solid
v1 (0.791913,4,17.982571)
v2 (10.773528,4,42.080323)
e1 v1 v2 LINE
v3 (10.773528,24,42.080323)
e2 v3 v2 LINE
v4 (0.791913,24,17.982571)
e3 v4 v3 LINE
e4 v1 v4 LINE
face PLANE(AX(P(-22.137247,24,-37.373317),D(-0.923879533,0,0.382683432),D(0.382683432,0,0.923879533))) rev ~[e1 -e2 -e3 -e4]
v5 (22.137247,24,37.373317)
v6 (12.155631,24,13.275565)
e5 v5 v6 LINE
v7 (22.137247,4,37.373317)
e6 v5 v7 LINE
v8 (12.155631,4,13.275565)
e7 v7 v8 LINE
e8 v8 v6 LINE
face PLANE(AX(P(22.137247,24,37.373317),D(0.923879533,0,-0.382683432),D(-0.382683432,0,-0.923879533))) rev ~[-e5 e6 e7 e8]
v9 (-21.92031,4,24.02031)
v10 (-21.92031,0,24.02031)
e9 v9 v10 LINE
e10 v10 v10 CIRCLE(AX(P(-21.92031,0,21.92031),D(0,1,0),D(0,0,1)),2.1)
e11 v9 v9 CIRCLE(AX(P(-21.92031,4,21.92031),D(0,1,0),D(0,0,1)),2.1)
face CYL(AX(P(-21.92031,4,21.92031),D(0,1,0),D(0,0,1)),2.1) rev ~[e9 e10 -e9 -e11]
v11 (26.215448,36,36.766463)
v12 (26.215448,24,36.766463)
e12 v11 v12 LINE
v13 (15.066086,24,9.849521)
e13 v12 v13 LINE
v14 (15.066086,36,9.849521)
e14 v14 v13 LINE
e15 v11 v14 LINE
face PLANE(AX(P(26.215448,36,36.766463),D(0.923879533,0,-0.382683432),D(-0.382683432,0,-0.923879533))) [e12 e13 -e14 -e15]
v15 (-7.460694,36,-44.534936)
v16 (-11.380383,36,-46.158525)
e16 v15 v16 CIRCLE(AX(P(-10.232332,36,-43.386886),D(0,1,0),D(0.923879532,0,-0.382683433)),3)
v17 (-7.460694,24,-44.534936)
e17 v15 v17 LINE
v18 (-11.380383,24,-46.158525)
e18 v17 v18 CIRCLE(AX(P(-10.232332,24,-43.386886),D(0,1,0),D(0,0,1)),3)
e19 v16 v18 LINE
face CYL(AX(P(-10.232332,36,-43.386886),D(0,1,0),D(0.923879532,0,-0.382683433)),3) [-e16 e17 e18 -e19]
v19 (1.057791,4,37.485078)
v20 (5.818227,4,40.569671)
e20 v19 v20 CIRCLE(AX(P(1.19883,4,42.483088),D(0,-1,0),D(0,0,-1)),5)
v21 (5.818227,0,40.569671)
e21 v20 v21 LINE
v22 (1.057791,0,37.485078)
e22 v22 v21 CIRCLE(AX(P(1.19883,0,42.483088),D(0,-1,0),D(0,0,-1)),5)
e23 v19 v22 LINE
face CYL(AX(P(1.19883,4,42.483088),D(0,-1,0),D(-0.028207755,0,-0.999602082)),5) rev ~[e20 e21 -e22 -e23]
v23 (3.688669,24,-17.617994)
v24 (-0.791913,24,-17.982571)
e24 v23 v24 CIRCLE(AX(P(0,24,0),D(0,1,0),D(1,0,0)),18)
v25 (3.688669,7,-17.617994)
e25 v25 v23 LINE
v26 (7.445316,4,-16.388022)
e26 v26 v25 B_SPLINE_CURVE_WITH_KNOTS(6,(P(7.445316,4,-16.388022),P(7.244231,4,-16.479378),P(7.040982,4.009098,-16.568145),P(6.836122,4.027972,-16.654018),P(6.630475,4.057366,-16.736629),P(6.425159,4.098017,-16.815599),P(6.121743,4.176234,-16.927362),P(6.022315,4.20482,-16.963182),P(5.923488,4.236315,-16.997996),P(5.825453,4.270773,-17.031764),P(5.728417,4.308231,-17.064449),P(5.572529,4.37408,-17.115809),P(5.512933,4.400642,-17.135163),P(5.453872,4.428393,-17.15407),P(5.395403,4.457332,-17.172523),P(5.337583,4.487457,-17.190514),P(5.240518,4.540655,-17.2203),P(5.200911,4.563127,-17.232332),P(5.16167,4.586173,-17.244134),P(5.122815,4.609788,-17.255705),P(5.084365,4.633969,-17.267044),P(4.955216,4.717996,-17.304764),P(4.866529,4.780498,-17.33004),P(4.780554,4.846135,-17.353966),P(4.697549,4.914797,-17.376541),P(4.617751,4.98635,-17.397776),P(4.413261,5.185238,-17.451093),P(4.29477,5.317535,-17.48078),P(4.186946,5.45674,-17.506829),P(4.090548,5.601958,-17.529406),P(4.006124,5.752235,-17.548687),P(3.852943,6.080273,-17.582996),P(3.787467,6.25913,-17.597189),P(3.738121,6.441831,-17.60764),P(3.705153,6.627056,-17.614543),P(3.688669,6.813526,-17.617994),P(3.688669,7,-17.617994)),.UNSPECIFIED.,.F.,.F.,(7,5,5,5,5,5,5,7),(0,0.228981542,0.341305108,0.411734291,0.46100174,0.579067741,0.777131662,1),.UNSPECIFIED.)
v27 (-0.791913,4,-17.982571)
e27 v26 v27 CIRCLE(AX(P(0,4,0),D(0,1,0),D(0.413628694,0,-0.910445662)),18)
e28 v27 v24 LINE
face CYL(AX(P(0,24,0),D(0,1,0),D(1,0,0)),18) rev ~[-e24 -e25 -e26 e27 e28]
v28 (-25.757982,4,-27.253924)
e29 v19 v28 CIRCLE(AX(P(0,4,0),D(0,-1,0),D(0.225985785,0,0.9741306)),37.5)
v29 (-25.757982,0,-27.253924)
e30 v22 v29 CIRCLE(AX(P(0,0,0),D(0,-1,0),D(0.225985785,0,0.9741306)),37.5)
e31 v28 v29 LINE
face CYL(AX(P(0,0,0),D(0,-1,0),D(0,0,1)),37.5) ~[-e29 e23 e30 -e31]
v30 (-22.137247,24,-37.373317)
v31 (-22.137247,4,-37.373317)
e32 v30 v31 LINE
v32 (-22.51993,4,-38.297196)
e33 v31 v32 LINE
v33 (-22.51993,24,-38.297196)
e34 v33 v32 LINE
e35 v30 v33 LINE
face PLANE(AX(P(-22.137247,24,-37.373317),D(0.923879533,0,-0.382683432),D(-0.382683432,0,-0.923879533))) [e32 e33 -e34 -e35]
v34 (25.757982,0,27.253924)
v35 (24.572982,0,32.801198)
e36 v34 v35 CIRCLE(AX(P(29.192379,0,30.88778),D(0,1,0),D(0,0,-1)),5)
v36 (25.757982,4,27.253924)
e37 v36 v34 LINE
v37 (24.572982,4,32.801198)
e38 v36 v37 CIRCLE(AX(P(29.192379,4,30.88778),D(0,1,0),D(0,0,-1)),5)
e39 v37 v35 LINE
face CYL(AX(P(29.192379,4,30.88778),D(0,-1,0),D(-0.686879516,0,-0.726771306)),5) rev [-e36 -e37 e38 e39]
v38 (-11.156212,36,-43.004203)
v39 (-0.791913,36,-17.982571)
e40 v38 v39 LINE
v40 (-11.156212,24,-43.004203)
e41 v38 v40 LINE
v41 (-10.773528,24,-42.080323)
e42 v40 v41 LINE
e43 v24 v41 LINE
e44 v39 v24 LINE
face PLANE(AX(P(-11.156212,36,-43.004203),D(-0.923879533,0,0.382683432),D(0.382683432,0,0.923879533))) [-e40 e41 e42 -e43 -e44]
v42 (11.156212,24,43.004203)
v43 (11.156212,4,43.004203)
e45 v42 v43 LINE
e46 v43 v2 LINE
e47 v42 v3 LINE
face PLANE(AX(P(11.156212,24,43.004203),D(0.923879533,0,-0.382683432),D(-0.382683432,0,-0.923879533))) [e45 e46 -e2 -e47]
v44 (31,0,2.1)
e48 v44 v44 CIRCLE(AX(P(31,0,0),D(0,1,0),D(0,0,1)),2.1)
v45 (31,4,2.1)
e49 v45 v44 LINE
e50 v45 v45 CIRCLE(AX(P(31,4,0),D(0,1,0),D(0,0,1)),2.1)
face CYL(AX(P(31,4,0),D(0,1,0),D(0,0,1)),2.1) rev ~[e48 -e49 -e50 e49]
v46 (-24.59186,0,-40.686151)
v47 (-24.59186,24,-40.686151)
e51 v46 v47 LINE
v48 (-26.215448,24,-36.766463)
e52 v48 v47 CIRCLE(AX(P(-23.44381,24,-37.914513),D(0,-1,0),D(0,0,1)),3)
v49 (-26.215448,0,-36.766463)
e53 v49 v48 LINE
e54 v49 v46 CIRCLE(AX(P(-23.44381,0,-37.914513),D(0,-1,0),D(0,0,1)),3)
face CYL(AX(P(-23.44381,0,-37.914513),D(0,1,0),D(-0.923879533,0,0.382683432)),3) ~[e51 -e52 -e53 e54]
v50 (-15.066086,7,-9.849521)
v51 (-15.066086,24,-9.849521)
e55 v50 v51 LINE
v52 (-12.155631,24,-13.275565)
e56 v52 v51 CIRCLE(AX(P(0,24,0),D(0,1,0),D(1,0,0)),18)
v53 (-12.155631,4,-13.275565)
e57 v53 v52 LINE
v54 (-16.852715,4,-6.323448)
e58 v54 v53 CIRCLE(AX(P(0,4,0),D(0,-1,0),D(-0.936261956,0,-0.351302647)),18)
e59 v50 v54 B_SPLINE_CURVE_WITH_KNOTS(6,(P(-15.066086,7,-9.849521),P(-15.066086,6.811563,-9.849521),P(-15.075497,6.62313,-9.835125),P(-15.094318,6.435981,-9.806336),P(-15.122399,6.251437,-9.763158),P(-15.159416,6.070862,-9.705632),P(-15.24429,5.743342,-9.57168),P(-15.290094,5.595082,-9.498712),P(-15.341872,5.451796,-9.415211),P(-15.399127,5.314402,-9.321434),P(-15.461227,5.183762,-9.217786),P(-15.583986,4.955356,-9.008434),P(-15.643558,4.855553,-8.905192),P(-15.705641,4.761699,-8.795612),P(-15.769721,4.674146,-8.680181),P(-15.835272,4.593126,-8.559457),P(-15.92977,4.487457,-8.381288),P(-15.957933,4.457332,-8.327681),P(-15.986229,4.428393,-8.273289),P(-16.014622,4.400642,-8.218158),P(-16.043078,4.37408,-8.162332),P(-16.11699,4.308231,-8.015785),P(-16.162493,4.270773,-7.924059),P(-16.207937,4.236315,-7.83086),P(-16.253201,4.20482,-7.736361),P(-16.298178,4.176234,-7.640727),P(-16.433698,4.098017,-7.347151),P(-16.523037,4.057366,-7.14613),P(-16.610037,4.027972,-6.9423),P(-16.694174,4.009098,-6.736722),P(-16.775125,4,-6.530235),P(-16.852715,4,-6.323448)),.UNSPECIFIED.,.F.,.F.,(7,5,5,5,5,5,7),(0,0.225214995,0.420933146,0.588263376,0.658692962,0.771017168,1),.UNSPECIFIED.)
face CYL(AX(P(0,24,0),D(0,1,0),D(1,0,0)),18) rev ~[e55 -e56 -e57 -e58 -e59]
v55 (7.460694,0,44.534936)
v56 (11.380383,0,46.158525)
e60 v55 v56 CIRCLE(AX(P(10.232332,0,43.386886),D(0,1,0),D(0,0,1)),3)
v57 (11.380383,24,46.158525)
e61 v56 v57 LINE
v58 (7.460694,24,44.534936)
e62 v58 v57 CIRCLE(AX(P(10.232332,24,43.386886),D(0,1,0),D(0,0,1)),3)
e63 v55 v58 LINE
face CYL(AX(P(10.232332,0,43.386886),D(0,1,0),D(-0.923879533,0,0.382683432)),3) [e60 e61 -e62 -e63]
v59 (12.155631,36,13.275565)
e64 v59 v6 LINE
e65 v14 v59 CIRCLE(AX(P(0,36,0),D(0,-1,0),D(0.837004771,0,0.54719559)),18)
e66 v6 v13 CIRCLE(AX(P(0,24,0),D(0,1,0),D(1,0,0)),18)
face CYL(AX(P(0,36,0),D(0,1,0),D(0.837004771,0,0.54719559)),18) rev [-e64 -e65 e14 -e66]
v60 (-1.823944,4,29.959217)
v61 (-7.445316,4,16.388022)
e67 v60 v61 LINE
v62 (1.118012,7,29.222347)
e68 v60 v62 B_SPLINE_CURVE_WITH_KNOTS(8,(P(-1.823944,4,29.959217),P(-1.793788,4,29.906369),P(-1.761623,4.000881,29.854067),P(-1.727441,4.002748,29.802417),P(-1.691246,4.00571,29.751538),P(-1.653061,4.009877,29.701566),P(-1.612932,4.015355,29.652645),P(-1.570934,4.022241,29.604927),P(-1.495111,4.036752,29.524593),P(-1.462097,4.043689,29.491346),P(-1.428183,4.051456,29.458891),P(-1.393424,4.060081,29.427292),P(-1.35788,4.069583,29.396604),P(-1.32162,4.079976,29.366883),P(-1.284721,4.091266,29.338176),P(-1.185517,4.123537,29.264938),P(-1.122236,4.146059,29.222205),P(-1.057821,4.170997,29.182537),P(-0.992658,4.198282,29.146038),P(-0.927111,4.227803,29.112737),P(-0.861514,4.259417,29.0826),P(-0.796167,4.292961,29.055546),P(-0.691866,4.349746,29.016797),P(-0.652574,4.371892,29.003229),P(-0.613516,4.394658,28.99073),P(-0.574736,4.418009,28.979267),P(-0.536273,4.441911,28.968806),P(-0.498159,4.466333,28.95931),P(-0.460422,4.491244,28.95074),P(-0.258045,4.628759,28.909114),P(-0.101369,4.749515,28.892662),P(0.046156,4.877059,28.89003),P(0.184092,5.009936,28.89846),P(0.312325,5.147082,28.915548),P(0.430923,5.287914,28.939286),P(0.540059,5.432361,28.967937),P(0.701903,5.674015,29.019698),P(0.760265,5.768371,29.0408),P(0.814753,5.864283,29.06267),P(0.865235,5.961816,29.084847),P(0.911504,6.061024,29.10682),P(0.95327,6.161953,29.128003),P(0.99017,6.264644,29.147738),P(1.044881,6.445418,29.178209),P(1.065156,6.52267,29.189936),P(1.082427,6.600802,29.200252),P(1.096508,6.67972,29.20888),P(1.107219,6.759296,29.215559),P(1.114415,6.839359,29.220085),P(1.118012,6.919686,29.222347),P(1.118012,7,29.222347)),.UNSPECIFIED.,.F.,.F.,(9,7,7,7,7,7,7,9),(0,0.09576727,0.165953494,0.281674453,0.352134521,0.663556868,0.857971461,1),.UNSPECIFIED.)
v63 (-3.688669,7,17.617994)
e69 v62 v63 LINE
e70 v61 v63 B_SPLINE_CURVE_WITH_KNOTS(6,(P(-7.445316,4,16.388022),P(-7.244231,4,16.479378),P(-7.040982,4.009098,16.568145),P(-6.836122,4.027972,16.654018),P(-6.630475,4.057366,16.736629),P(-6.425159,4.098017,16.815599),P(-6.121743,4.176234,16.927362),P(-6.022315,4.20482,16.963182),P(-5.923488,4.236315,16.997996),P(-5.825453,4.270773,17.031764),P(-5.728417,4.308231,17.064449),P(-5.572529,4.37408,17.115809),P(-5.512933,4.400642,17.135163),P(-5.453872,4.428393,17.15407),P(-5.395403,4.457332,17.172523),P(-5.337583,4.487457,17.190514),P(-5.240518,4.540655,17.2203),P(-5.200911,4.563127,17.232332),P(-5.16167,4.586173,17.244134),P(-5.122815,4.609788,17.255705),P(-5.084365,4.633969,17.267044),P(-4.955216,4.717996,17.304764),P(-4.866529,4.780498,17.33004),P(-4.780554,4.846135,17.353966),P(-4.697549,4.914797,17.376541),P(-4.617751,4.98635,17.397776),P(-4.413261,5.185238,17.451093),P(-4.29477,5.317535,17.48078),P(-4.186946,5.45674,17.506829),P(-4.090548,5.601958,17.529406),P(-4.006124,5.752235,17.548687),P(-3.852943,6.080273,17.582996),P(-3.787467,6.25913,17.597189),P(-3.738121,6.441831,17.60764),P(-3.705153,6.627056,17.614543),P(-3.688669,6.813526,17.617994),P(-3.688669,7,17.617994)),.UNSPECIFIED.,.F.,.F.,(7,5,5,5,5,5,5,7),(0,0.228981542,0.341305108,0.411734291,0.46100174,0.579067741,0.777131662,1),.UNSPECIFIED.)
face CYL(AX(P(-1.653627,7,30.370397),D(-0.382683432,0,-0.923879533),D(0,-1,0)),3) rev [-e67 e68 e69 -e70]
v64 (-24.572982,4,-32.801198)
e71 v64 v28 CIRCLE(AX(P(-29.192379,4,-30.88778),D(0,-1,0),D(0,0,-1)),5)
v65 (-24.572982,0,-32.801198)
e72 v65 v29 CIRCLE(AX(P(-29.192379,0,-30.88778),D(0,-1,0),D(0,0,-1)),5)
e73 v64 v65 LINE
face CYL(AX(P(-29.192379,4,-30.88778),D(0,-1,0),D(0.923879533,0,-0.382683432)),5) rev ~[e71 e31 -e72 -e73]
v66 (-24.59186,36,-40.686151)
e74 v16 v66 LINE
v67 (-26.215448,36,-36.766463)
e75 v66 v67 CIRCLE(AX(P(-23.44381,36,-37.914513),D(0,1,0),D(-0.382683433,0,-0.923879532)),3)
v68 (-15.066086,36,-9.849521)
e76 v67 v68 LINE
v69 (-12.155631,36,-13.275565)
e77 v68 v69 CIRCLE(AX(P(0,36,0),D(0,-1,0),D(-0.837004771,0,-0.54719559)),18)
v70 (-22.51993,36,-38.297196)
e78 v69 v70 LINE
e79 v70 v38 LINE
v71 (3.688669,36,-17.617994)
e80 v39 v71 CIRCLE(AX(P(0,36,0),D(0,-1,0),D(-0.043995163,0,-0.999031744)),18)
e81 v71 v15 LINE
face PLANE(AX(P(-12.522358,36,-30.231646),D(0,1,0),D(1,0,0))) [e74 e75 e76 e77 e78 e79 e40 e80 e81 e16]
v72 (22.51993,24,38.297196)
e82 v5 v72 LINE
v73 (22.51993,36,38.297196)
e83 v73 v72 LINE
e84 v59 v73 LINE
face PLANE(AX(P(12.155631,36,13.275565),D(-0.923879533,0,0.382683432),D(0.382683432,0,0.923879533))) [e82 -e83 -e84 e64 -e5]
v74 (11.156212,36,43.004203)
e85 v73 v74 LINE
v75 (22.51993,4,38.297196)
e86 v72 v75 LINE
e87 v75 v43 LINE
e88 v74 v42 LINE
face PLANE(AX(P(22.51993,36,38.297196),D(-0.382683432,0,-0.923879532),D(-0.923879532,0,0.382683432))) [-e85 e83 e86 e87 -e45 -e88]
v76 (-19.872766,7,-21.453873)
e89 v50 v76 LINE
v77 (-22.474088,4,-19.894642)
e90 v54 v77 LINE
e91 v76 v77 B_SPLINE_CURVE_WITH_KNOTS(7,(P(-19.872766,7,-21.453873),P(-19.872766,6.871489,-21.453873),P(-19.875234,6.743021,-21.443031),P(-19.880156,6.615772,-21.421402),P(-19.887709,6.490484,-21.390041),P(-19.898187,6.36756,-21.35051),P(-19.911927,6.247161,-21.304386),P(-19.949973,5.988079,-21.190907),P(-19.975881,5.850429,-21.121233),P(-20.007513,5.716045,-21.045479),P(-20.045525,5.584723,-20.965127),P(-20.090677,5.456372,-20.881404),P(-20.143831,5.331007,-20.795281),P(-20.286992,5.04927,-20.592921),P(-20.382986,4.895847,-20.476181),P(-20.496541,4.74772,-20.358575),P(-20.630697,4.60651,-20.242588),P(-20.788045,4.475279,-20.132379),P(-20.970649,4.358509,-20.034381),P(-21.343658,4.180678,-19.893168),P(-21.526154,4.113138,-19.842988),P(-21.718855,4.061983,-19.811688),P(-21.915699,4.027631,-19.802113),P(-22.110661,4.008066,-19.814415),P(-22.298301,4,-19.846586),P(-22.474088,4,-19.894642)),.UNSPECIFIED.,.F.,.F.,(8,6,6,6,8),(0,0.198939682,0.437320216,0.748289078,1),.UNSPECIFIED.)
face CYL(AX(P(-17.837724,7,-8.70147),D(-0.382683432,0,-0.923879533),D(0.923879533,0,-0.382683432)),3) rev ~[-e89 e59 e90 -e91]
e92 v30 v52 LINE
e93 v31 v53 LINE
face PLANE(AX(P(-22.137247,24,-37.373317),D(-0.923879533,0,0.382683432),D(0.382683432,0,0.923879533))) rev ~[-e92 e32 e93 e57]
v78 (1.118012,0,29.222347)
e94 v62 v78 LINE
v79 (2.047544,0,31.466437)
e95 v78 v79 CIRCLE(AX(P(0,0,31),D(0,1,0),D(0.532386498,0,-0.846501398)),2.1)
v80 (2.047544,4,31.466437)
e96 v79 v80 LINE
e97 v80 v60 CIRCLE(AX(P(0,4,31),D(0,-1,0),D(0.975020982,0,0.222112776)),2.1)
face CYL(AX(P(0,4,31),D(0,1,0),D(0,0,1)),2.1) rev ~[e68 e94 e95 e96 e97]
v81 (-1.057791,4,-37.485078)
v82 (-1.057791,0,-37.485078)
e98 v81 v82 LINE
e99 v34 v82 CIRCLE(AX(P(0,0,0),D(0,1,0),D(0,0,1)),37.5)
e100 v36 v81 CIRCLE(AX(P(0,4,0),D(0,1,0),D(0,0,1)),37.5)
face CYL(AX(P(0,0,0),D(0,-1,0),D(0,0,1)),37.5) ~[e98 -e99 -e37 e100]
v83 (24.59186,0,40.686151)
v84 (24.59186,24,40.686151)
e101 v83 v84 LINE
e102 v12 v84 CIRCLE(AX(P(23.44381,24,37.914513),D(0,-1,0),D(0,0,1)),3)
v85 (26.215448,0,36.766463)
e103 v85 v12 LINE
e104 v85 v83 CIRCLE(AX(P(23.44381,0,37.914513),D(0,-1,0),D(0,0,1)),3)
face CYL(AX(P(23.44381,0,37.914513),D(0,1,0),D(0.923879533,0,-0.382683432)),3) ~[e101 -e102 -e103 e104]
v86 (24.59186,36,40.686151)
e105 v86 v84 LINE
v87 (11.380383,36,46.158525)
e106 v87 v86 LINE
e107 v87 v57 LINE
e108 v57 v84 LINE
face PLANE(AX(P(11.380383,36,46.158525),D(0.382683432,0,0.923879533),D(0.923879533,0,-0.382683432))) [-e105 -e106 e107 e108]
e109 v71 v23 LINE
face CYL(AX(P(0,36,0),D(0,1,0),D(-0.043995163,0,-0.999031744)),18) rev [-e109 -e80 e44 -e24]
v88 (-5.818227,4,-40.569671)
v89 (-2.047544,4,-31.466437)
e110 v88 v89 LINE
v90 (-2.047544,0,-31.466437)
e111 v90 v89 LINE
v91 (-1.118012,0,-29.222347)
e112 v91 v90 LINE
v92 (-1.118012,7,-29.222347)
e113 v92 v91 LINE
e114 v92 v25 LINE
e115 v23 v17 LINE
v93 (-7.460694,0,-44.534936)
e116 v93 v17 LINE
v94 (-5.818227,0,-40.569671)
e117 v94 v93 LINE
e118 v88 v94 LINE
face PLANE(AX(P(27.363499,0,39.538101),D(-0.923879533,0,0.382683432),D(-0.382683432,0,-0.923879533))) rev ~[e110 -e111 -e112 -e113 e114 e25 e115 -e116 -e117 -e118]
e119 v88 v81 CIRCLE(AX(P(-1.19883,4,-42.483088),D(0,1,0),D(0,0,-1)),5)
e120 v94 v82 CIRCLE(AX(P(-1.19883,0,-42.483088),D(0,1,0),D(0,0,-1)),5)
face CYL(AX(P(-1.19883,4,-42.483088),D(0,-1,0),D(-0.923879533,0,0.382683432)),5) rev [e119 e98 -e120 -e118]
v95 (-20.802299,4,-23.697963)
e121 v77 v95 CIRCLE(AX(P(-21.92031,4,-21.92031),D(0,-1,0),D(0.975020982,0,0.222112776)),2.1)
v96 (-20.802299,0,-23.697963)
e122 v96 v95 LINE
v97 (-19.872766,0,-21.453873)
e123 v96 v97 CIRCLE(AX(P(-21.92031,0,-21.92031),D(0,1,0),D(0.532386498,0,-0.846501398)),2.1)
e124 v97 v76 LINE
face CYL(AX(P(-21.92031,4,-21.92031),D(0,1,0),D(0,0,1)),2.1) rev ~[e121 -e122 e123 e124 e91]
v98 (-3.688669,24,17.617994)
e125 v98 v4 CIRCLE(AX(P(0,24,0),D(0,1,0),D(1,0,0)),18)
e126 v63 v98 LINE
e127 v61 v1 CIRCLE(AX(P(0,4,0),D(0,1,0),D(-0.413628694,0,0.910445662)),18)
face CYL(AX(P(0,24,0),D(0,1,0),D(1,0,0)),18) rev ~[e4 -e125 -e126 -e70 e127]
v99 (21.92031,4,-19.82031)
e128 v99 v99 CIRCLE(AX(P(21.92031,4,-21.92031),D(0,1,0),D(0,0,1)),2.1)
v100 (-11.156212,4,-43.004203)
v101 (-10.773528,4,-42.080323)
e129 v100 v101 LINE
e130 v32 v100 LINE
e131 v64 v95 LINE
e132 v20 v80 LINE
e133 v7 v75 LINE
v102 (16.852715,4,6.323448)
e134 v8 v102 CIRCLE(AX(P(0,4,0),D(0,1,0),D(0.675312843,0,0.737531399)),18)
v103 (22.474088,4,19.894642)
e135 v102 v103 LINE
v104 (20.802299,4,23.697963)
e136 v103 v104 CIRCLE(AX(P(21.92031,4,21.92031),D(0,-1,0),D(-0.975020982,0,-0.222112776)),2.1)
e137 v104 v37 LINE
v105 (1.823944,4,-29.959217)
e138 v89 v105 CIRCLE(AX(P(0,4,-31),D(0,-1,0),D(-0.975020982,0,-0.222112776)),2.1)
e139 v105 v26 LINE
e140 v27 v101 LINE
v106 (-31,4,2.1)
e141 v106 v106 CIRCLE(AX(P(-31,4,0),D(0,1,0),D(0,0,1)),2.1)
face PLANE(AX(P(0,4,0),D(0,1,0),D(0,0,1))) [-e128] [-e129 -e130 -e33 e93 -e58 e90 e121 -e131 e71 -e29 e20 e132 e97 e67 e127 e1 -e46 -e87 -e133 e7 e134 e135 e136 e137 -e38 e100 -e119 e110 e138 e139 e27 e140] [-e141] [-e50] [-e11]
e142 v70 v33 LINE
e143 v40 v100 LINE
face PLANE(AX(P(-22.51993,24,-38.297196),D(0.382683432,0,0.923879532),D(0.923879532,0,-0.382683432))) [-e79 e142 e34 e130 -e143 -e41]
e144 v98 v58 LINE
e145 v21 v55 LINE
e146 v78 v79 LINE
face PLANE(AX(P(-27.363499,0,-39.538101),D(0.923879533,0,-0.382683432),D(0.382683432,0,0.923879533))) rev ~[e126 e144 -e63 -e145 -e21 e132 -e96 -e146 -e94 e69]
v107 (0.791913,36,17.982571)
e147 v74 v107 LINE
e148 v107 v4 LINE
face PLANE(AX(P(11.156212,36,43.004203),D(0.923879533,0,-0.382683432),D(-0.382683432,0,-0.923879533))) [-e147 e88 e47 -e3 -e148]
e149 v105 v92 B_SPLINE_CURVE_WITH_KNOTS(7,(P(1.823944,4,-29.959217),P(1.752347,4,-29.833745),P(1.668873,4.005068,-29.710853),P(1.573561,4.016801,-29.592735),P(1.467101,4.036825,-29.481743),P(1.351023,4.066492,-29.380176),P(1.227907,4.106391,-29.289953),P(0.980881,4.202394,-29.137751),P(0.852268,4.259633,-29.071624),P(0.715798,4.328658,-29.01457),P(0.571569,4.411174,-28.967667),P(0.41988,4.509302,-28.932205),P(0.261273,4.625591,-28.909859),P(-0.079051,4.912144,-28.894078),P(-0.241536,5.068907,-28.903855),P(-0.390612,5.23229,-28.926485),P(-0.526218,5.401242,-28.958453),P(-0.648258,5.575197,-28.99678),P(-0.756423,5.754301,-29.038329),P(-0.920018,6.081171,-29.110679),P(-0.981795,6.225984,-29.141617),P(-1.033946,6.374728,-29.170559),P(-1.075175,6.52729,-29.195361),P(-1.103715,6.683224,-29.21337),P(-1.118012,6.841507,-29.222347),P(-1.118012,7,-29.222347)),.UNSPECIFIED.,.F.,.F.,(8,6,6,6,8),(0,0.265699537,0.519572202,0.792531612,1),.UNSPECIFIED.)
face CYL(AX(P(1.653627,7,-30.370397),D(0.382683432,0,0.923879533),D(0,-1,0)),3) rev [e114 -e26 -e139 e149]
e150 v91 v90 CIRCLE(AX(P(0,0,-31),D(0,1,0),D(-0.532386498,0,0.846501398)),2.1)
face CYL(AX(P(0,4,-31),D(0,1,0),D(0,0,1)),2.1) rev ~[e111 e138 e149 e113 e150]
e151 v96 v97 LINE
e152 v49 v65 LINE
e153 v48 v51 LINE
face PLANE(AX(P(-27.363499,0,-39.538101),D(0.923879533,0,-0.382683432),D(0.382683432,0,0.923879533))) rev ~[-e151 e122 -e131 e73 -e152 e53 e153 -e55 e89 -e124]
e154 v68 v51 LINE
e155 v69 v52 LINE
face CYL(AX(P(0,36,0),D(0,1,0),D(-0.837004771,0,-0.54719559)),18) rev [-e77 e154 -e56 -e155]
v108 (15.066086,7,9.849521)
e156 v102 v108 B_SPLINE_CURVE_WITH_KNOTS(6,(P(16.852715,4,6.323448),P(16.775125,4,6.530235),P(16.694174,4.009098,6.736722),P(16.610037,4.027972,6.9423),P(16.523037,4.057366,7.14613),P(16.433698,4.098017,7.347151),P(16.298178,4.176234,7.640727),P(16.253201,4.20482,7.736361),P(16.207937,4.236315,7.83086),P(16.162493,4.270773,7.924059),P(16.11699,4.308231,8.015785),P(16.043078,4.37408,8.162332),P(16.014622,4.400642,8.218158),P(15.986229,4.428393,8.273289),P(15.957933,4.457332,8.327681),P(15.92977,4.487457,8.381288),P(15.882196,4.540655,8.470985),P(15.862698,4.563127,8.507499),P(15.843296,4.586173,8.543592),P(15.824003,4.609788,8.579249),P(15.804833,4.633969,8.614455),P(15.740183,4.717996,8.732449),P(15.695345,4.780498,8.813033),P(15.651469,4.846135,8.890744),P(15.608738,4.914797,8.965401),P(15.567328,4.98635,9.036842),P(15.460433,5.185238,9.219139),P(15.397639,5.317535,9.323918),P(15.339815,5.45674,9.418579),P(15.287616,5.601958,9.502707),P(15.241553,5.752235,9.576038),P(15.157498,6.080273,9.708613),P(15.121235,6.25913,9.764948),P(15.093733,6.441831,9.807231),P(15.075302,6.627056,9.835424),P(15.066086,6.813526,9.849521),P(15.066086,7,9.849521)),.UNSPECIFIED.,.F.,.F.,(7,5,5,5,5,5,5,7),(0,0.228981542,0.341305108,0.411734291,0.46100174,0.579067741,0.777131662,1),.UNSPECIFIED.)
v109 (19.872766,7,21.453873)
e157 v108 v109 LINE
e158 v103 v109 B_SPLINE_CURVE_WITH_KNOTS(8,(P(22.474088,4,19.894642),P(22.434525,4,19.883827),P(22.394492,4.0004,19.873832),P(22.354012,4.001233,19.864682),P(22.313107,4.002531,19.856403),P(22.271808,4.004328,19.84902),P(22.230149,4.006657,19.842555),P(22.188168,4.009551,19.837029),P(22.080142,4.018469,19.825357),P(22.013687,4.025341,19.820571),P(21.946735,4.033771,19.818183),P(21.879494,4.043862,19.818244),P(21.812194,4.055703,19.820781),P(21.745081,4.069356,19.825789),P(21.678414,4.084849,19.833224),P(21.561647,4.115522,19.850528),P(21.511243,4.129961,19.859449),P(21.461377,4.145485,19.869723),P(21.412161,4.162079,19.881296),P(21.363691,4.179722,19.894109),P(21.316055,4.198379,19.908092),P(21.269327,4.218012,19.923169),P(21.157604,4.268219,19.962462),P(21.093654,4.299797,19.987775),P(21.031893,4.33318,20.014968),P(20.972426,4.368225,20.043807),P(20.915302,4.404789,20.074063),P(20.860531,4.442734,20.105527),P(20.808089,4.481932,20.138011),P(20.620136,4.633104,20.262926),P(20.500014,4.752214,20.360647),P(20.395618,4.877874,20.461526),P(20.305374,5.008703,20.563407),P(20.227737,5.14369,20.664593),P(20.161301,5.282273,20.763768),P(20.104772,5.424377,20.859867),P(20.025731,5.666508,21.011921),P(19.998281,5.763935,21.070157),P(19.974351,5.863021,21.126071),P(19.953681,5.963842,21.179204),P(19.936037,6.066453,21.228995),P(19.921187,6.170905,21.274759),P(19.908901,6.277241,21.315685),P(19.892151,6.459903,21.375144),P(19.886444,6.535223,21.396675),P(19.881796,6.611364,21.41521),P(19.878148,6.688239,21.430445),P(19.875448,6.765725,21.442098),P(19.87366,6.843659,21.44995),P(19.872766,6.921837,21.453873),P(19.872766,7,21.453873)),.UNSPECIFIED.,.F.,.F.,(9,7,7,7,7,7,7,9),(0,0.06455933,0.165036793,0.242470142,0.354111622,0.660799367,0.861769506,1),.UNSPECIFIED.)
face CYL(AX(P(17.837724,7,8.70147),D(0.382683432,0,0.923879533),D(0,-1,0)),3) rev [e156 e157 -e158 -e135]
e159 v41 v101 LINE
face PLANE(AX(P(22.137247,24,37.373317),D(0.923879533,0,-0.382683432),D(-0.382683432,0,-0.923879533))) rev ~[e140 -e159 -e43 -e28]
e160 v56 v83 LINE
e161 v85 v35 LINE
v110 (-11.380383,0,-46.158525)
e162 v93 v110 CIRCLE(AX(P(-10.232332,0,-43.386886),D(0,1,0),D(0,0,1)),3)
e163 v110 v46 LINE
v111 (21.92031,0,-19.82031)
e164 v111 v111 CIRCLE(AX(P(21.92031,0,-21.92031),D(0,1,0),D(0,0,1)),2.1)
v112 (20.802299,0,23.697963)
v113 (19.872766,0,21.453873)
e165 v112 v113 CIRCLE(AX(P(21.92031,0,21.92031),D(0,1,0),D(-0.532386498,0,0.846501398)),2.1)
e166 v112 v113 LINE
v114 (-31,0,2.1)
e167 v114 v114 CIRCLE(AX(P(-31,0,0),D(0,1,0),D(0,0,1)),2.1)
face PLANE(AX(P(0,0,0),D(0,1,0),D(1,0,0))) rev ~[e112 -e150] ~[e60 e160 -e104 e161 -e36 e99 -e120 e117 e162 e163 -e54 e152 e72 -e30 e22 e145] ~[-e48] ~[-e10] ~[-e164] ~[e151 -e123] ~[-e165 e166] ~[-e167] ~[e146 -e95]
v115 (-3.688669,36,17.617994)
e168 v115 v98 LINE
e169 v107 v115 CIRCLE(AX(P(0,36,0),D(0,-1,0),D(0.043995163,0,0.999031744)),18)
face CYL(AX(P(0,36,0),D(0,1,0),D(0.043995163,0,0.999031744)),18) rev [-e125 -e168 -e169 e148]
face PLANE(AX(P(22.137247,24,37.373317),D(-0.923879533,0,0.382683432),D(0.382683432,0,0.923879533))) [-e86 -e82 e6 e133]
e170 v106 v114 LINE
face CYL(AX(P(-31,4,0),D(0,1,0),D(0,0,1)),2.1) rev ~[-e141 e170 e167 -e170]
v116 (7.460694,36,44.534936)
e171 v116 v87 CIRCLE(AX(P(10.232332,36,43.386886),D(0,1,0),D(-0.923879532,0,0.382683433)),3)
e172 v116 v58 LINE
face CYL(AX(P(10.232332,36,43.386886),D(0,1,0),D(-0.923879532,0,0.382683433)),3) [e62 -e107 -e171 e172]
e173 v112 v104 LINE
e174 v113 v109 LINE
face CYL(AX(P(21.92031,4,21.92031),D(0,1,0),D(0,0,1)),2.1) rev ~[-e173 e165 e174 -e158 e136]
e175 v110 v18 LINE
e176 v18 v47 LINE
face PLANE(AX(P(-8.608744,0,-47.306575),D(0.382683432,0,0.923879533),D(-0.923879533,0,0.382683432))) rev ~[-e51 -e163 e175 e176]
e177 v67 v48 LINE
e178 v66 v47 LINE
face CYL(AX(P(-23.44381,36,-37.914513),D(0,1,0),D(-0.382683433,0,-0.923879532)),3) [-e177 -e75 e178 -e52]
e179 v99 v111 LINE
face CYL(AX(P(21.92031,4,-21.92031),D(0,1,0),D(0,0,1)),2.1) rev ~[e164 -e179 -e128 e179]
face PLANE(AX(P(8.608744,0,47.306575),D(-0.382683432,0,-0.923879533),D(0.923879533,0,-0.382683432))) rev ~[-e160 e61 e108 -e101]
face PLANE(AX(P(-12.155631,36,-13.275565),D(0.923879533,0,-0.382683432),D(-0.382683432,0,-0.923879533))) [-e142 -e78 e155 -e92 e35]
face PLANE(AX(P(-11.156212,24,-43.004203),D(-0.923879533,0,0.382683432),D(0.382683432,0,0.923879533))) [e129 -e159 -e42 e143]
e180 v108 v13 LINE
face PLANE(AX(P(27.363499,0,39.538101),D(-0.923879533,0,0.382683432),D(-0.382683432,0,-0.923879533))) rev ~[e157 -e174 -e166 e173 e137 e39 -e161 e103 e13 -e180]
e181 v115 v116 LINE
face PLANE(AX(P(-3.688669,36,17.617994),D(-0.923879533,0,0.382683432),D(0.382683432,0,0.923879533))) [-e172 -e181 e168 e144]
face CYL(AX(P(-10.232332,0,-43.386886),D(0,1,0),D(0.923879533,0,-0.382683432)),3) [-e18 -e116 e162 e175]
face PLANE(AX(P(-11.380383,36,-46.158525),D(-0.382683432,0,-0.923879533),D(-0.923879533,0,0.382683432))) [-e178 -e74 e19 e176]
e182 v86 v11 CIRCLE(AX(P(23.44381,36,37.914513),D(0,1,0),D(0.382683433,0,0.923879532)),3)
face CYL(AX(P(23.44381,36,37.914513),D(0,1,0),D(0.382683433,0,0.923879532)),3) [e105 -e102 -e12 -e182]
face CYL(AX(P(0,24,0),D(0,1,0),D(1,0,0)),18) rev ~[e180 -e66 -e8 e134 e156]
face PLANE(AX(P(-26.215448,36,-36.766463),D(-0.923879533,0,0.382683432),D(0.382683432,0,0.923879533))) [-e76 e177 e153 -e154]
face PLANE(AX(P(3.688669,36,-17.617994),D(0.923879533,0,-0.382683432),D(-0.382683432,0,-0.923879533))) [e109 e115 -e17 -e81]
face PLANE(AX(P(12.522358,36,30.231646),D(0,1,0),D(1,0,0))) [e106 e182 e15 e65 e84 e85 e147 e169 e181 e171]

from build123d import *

# Parameters (mm, degrees)
CROQUIS2_R                   = 37.5
SALIENTE_EXTRUIR1_DEPTH      = 4
CROQUIS3_R                   = 2.1
CORTAR_EXTRUIR1_DEPTH        = 4
SALIENTE_EXTRUIR2_DEPTH      = 20
SALIENTE_EXTRUIR2_DEPTH_BACK = 4
SALIENTE_EXTRUIR3_DEPTH      = 20
SALIENTE_EXTRUIR3_DEPTH_BACK = 4
CORTAR_EXTRUIR2_DEPTH        = 20
CROQUIS9_R                   = 18
CORTAR_EXTRUIR3_DEPTH        = 20
REDONDEO1_R                  = 3
REDONDEO2_R                  = 3
REDONDEO3_R                  = 5
CORTAR_EXTRUIR4_DEPTH        = 20
SALIENTE_EXTRUIR4_START      = 12
SALIENTE_EXTRUIR4_DEPTH      = 12


with BuildPart() as part:
    # Croquis2 → Saliente-Extruir1 (new body)
    with BuildSketch(Plane(origin=(0, 0, 0), x_dir=(1, 0, 0), z_dir=(0, 1, 0))):
        with Locations(Location((0, 0, 0), (0, 0, 270))):
            Circle(CROQUIS2_R)
    extrude(amount=SALIENTE_EXTRUIR1_DEPTH)

    # Croquis3 → Cortar-Extruir1 (cut)
    with BuildSketch(Plane(origin=(0, 4, 0), x_dir=(1, 0, 0), z_dir=(0, 1, 0))):
        with Locations(Location((0, 31, 0), (0, 0, 270))):
            Circle(CROQUIS3_R)
        with Locations(Location((21.920310217, 21.920310217, 0), (0, 0, 270))):
            Circle(CROQUIS3_R)
        with Locations(Location((31, 0, 0), (0, 0, 270))):
            Circle(CROQUIS3_R)
        with Locations(Location((21.920310217, -21.920310217, 0), (0, 0, 270))):
            Circle(CROQUIS3_R)
        with Locations(Location((0, -31, 0), (0, 0, 270))):
            Circle(CROQUIS3_R)
        with Locations(Location((-21.920310217, -21.920310217, 0), (0, 0, 270))):
            Circle(CROQUIS3_R)
        with Locations(Location((-31, 0, 0), (0, 0, 270))):
            Circle(CROQUIS3_R)
        with Locations(Location((-21.920310217, 21.920310217, 0), (0, 0, 270))):
            Circle(CROQUIS3_R)
    extrude(amount=-CORTAR_EXTRUIR1_DEPTH, mode=Mode.SUBTRACT)

    # Croquis4 → Saliente-Extruir2 (add, two sides: drawn at the far end of the back side and taken through both)
    with BuildSketch(Plane(origin=(0, 4, 0), x_dir=(1, 0, 0), z_dir=(0, 1, 0)).offset(-SALIENTE_EXTRUIR2_DEPTH_BACK)):
        with BuildLine():
            ThreePointArc((8.474466938, -36.529897483), (11.451375588, -35.708766391), (14.350628714, -34.645482469))
            Line((14.350628714, -34.645482469), (-14.350628714, 34.645482469))
            ThreePointArc((-14.350628714, 34.645482469), (-17.15256553, 33.347256195), (-19.838185188, 31.822891265))
            Line((-19.838185188, 31.822891265), (8.474466938, -36.529897483))
        make_face()
        with BuildLine():
            Line((-14.350628714, 34.645482469), (14.350628714, -34.645482469))
            ThreePointArc((14.350628714, -34.645482469), (17.15256553, -33.347256195), (19.838185188, -31.822891265))
            Line((19.838185188, -31.822891265), (-8.474466938, 36.529897483))
            ThreePointArc((-8.474466938, 36.529897483), (-11.451375588, 35.708766391), (-14.350628714, 34.645482469))
        make_face()
        with BuildLine():
            Line((10.773528467, -42.080323007), (16.455387592, -39.726819898))
            Line((16.455387592, -39.726819898), (14.350628714, -34.645482469))
            ThreePointArc((14.350628714, -34.645482469), (11.451375588, -35.708766391), (8.474466938, -36.529897483))
            Line((8.474466938, -36.529897483), (10.773528467, -42.080323007))
        make_face()
        with BuildLine():
            Line((14.350628714, -34.645482469), (16.455387592, -39.726819898))
            Line((16.455387592, -39.726819898), (22.137246717, -37.373316789))
            Line((22.137246717, -37.373316789), (19.838185188, -31.822891265))
            ThreePointArc((19.838185188, -31.822891265), (17.15256553, -33.347256195), (14.350628714, -34.645482469))
        make_face()
        with BuildLine():
            ThreePointArc((-19.838185188, 31.822891265), (-17.15256553, 33.347256195), (-14.350628714, 34.645482469))
            Line((-14.350628714, 34.645482469), (-16.455387592, 39.726819898))
            Line((-16.455387592, 39.726819898), (-22.137246717, 37.373316789))
            Line((-22.137246717, 37.373316789), (-19.838185188, 31.822891265))
        make_face()
        with BuildLine():
            Line((-16.455387592, 39.726819898), (-14.350628714, 34.645482469))
            ThreePointArc((-14.350628714, 34.645482469), (-11.451375588, 35.708766391), (-8.474466938, 36.529897483))
            Line((-8.474466938, 36.529897483), (-10.773528467, 42.080323007))
            Line((-10.773528467, 42.080323007), (-16.455387592, 39.726819898))
        make_face()
    extrude(amount=SALIENTE_EXTRUIR2_DEPTH + SALIENTE_EXTRUIR2_DEPTH_BACK)

    # Croquis6 → Saliente-Extruir3 (add, two sides: drawn at the far end of the back side and taken through both)
    with BuildSketch(Plane(origin=(0, 4, 0), x_dir=(1, 0, 0), z_dir=(0, 1, 0)).offset(-SALIENTE_EXTRUIR3_DEPTH_BACK)):
        Polygon((-27.363498576, 39.53810119), (8.608744066, -47.306574867), (27.363498576, -39.53810119), (-8.608744066, 47.306574867), align=None)
        Polygon((-22.137246717, 37.373316789), (10.773528467, -42.080323007), (22.137246717, -37.373316789), (-10.773528467, 42.080323007), align=None, mode=Mode.SUBTRACT)
    extrude(amount=SALIENTE_EXTRUIR3_DEPTH + SALIENTE_EXTRUIR3_DEPTH_BACK)

    # Croquis8 → Cortar-Extruir2 (cut)
    with BuildSketch(Plane(origin=(0, 24, 0), x_dir=(1, 0, 0), z_dir=(0, 1, 0))):
        Polygon((-10.773528467, 42.080323007), (-22.137246717, 37.373316789), (10.773528467, -42.080323007), (22.137246717, -37.373316789), align=None)
    extrude(amount=-CORTAR_EXTRUIR2_DEPTH, mode=Mode.SUBTRACT)

    # Croquis9 → Cortar-Extruir3 (cut)
    with BuildSketch(Plane(origin=(0, 24, 0), x_dir=(1, 0, 0), z_dir=(0, 1, 0))):
        Circle(CROQUIS9_R)
    extrude(amount=-CORTAR_EXTRUIR3_DEPTH, mode=Mode.SUBTRACT)

    # Redondeo1
    redondeo1_edges = [part.edges().sort_by_distance(p)[0] for p in [
        (1.285328501, 4, -23.420170689),
        (-1.285328501, 4, 23.420170689),
        (-17.469426009, 4, -15.651697012),
        (17.469426009, 4, 15.651697012),
    ]]
    fillet(redondeo1_edges, radius=REDONDEO1_R)

    # Redondeo2
    redondeo2_edges = [part.edges().sort_by_distance(p)[0] for p in [
        (8.608744066, 12, 47.306574867),
        (-8.608744066, 12, -47.306574867),
        (-27.363498576, 12, -39.53810119),
        (27.363498576, 12, 39.53810119),
    ]]
    fillet(redondeo2_edges, radius=REDONDEO2_R)

    # Redondeo3
    redondeo3_edges = [part.edges().sort_by_distance(p)[0] for p in [
        (-23.192341919, 2, -29.468038216),
        (4.437587409, 2, 37.236511893),
        (23.192341919, 2, 29.468038216),
        (-4.437587409, 2, -37.236511893),
    ]]
    fillet(redondeo3_edges, radius=REDONDEO3_R)

    # Croquis10 → Cortar-Extruir4 (cut)
    with BuildSketch(Plane(origin=(0, 24, 0), x_dir=(1, 0, 0), z_dir=(0, 1, 0))):
        Polygon((10.773528467, -42.080323007), (22.137246717, -37.373316789), (22.519930149, -38.297196321), (11.156211899, -43.00420254), align=None)
        Polygon((-10.773528467, 42.080323007), (-22.137246717, 37.373316789), (-22.519930149, 38.297196321), (-11.156211899, 43.00420254), align=None)
    extrude(amount=-CORTAR_EXTRUIR4_DEPTH, mode=Mode.SUBTRACT)

    # Croquis11 → Saliente-Extruir4 (add)
    with BuildSketch(Plane(origin=(0, 24, 0), x_dir=(1, 0, 0), z_dir=(0, 1, 0)).offset(SALIENTE_EXTRUIR4_START)):
        with BuildLine():
            Line((22.519930149, -38.297196321), (11.156211899, -43.00420254))
            Line((11.156211899, -43.00420254), (0.791912926, -17.982571393))
            ThreePointArc((0.791912926, -17.982571393), (-1.459803938, -17.940707134), (-3.688668647, -17.617994313))
            Line((-3.688668647, -17.617994313), (7.460693769, -44.534936269))
            ThreePointArc((7.460693769, -44.534936269), (9.08428207, -46.158524569), (11.380382664, -46.158524569))
            Line((11.380382664, -46.158524569), (24.591859979, -40.686151487))
            ThreePointArc((24.591859979, -40.686151487), (26.215448279, -39.062563186), (26.215448279, -36.766462592))
            Line((26.215448279, -36.766462592), (15.066085863, -9.849520636))
            ThreePointArc((15.066085863, -9.849520636), (13.718232938, -11.65375841), (12.155631176, -13.275565175))
            Line((12.155631176, -13.275565175), (22.519930149, -38.297196321))
        make_face()
        with BuildLine():
            Line((-22.519930149, 38.297196321), (-11.156211899, 43.00420254))
            Line((-11.156211899, 43.00420254), (-0.791912926, 17.982571393))
            ThreePointArc((-0.791912926, 17.982571393), (1.459803938, 17.940707134), (3.688668647, 17.617994313))
            Line((3.688668647, 17.617994313), (-7.460693769, 44.534936269))
            ThreePointArc((-7.460693769, 44.534936269), (-9.08428207, 46.158524569), (-11.380382664, 46.158524569))
            Line((-11.380382664, 46.158524569), (-24.591859979, 40.686151487))
            ThreePointArc((-24.591859979, 40.686151487), (-26.215448279, 39.062563186), (-26.215448279, 36.766462592))
            Line((-26.215448279, 36.766462592), (-15.066085863, 9.849520636))
            ThreePointArc((-15.066085863, 9.849520636), (-13.718232938, 11.65375841), (-12.155631176, 13.275565175))
            Line((-12.155631176, 13.275565175), (-22.519930149, 38.297196321))
        make_face()
    extrude(amount=-SALIENTE_EXTRUIR4_DEPTH)


solid = part.part
